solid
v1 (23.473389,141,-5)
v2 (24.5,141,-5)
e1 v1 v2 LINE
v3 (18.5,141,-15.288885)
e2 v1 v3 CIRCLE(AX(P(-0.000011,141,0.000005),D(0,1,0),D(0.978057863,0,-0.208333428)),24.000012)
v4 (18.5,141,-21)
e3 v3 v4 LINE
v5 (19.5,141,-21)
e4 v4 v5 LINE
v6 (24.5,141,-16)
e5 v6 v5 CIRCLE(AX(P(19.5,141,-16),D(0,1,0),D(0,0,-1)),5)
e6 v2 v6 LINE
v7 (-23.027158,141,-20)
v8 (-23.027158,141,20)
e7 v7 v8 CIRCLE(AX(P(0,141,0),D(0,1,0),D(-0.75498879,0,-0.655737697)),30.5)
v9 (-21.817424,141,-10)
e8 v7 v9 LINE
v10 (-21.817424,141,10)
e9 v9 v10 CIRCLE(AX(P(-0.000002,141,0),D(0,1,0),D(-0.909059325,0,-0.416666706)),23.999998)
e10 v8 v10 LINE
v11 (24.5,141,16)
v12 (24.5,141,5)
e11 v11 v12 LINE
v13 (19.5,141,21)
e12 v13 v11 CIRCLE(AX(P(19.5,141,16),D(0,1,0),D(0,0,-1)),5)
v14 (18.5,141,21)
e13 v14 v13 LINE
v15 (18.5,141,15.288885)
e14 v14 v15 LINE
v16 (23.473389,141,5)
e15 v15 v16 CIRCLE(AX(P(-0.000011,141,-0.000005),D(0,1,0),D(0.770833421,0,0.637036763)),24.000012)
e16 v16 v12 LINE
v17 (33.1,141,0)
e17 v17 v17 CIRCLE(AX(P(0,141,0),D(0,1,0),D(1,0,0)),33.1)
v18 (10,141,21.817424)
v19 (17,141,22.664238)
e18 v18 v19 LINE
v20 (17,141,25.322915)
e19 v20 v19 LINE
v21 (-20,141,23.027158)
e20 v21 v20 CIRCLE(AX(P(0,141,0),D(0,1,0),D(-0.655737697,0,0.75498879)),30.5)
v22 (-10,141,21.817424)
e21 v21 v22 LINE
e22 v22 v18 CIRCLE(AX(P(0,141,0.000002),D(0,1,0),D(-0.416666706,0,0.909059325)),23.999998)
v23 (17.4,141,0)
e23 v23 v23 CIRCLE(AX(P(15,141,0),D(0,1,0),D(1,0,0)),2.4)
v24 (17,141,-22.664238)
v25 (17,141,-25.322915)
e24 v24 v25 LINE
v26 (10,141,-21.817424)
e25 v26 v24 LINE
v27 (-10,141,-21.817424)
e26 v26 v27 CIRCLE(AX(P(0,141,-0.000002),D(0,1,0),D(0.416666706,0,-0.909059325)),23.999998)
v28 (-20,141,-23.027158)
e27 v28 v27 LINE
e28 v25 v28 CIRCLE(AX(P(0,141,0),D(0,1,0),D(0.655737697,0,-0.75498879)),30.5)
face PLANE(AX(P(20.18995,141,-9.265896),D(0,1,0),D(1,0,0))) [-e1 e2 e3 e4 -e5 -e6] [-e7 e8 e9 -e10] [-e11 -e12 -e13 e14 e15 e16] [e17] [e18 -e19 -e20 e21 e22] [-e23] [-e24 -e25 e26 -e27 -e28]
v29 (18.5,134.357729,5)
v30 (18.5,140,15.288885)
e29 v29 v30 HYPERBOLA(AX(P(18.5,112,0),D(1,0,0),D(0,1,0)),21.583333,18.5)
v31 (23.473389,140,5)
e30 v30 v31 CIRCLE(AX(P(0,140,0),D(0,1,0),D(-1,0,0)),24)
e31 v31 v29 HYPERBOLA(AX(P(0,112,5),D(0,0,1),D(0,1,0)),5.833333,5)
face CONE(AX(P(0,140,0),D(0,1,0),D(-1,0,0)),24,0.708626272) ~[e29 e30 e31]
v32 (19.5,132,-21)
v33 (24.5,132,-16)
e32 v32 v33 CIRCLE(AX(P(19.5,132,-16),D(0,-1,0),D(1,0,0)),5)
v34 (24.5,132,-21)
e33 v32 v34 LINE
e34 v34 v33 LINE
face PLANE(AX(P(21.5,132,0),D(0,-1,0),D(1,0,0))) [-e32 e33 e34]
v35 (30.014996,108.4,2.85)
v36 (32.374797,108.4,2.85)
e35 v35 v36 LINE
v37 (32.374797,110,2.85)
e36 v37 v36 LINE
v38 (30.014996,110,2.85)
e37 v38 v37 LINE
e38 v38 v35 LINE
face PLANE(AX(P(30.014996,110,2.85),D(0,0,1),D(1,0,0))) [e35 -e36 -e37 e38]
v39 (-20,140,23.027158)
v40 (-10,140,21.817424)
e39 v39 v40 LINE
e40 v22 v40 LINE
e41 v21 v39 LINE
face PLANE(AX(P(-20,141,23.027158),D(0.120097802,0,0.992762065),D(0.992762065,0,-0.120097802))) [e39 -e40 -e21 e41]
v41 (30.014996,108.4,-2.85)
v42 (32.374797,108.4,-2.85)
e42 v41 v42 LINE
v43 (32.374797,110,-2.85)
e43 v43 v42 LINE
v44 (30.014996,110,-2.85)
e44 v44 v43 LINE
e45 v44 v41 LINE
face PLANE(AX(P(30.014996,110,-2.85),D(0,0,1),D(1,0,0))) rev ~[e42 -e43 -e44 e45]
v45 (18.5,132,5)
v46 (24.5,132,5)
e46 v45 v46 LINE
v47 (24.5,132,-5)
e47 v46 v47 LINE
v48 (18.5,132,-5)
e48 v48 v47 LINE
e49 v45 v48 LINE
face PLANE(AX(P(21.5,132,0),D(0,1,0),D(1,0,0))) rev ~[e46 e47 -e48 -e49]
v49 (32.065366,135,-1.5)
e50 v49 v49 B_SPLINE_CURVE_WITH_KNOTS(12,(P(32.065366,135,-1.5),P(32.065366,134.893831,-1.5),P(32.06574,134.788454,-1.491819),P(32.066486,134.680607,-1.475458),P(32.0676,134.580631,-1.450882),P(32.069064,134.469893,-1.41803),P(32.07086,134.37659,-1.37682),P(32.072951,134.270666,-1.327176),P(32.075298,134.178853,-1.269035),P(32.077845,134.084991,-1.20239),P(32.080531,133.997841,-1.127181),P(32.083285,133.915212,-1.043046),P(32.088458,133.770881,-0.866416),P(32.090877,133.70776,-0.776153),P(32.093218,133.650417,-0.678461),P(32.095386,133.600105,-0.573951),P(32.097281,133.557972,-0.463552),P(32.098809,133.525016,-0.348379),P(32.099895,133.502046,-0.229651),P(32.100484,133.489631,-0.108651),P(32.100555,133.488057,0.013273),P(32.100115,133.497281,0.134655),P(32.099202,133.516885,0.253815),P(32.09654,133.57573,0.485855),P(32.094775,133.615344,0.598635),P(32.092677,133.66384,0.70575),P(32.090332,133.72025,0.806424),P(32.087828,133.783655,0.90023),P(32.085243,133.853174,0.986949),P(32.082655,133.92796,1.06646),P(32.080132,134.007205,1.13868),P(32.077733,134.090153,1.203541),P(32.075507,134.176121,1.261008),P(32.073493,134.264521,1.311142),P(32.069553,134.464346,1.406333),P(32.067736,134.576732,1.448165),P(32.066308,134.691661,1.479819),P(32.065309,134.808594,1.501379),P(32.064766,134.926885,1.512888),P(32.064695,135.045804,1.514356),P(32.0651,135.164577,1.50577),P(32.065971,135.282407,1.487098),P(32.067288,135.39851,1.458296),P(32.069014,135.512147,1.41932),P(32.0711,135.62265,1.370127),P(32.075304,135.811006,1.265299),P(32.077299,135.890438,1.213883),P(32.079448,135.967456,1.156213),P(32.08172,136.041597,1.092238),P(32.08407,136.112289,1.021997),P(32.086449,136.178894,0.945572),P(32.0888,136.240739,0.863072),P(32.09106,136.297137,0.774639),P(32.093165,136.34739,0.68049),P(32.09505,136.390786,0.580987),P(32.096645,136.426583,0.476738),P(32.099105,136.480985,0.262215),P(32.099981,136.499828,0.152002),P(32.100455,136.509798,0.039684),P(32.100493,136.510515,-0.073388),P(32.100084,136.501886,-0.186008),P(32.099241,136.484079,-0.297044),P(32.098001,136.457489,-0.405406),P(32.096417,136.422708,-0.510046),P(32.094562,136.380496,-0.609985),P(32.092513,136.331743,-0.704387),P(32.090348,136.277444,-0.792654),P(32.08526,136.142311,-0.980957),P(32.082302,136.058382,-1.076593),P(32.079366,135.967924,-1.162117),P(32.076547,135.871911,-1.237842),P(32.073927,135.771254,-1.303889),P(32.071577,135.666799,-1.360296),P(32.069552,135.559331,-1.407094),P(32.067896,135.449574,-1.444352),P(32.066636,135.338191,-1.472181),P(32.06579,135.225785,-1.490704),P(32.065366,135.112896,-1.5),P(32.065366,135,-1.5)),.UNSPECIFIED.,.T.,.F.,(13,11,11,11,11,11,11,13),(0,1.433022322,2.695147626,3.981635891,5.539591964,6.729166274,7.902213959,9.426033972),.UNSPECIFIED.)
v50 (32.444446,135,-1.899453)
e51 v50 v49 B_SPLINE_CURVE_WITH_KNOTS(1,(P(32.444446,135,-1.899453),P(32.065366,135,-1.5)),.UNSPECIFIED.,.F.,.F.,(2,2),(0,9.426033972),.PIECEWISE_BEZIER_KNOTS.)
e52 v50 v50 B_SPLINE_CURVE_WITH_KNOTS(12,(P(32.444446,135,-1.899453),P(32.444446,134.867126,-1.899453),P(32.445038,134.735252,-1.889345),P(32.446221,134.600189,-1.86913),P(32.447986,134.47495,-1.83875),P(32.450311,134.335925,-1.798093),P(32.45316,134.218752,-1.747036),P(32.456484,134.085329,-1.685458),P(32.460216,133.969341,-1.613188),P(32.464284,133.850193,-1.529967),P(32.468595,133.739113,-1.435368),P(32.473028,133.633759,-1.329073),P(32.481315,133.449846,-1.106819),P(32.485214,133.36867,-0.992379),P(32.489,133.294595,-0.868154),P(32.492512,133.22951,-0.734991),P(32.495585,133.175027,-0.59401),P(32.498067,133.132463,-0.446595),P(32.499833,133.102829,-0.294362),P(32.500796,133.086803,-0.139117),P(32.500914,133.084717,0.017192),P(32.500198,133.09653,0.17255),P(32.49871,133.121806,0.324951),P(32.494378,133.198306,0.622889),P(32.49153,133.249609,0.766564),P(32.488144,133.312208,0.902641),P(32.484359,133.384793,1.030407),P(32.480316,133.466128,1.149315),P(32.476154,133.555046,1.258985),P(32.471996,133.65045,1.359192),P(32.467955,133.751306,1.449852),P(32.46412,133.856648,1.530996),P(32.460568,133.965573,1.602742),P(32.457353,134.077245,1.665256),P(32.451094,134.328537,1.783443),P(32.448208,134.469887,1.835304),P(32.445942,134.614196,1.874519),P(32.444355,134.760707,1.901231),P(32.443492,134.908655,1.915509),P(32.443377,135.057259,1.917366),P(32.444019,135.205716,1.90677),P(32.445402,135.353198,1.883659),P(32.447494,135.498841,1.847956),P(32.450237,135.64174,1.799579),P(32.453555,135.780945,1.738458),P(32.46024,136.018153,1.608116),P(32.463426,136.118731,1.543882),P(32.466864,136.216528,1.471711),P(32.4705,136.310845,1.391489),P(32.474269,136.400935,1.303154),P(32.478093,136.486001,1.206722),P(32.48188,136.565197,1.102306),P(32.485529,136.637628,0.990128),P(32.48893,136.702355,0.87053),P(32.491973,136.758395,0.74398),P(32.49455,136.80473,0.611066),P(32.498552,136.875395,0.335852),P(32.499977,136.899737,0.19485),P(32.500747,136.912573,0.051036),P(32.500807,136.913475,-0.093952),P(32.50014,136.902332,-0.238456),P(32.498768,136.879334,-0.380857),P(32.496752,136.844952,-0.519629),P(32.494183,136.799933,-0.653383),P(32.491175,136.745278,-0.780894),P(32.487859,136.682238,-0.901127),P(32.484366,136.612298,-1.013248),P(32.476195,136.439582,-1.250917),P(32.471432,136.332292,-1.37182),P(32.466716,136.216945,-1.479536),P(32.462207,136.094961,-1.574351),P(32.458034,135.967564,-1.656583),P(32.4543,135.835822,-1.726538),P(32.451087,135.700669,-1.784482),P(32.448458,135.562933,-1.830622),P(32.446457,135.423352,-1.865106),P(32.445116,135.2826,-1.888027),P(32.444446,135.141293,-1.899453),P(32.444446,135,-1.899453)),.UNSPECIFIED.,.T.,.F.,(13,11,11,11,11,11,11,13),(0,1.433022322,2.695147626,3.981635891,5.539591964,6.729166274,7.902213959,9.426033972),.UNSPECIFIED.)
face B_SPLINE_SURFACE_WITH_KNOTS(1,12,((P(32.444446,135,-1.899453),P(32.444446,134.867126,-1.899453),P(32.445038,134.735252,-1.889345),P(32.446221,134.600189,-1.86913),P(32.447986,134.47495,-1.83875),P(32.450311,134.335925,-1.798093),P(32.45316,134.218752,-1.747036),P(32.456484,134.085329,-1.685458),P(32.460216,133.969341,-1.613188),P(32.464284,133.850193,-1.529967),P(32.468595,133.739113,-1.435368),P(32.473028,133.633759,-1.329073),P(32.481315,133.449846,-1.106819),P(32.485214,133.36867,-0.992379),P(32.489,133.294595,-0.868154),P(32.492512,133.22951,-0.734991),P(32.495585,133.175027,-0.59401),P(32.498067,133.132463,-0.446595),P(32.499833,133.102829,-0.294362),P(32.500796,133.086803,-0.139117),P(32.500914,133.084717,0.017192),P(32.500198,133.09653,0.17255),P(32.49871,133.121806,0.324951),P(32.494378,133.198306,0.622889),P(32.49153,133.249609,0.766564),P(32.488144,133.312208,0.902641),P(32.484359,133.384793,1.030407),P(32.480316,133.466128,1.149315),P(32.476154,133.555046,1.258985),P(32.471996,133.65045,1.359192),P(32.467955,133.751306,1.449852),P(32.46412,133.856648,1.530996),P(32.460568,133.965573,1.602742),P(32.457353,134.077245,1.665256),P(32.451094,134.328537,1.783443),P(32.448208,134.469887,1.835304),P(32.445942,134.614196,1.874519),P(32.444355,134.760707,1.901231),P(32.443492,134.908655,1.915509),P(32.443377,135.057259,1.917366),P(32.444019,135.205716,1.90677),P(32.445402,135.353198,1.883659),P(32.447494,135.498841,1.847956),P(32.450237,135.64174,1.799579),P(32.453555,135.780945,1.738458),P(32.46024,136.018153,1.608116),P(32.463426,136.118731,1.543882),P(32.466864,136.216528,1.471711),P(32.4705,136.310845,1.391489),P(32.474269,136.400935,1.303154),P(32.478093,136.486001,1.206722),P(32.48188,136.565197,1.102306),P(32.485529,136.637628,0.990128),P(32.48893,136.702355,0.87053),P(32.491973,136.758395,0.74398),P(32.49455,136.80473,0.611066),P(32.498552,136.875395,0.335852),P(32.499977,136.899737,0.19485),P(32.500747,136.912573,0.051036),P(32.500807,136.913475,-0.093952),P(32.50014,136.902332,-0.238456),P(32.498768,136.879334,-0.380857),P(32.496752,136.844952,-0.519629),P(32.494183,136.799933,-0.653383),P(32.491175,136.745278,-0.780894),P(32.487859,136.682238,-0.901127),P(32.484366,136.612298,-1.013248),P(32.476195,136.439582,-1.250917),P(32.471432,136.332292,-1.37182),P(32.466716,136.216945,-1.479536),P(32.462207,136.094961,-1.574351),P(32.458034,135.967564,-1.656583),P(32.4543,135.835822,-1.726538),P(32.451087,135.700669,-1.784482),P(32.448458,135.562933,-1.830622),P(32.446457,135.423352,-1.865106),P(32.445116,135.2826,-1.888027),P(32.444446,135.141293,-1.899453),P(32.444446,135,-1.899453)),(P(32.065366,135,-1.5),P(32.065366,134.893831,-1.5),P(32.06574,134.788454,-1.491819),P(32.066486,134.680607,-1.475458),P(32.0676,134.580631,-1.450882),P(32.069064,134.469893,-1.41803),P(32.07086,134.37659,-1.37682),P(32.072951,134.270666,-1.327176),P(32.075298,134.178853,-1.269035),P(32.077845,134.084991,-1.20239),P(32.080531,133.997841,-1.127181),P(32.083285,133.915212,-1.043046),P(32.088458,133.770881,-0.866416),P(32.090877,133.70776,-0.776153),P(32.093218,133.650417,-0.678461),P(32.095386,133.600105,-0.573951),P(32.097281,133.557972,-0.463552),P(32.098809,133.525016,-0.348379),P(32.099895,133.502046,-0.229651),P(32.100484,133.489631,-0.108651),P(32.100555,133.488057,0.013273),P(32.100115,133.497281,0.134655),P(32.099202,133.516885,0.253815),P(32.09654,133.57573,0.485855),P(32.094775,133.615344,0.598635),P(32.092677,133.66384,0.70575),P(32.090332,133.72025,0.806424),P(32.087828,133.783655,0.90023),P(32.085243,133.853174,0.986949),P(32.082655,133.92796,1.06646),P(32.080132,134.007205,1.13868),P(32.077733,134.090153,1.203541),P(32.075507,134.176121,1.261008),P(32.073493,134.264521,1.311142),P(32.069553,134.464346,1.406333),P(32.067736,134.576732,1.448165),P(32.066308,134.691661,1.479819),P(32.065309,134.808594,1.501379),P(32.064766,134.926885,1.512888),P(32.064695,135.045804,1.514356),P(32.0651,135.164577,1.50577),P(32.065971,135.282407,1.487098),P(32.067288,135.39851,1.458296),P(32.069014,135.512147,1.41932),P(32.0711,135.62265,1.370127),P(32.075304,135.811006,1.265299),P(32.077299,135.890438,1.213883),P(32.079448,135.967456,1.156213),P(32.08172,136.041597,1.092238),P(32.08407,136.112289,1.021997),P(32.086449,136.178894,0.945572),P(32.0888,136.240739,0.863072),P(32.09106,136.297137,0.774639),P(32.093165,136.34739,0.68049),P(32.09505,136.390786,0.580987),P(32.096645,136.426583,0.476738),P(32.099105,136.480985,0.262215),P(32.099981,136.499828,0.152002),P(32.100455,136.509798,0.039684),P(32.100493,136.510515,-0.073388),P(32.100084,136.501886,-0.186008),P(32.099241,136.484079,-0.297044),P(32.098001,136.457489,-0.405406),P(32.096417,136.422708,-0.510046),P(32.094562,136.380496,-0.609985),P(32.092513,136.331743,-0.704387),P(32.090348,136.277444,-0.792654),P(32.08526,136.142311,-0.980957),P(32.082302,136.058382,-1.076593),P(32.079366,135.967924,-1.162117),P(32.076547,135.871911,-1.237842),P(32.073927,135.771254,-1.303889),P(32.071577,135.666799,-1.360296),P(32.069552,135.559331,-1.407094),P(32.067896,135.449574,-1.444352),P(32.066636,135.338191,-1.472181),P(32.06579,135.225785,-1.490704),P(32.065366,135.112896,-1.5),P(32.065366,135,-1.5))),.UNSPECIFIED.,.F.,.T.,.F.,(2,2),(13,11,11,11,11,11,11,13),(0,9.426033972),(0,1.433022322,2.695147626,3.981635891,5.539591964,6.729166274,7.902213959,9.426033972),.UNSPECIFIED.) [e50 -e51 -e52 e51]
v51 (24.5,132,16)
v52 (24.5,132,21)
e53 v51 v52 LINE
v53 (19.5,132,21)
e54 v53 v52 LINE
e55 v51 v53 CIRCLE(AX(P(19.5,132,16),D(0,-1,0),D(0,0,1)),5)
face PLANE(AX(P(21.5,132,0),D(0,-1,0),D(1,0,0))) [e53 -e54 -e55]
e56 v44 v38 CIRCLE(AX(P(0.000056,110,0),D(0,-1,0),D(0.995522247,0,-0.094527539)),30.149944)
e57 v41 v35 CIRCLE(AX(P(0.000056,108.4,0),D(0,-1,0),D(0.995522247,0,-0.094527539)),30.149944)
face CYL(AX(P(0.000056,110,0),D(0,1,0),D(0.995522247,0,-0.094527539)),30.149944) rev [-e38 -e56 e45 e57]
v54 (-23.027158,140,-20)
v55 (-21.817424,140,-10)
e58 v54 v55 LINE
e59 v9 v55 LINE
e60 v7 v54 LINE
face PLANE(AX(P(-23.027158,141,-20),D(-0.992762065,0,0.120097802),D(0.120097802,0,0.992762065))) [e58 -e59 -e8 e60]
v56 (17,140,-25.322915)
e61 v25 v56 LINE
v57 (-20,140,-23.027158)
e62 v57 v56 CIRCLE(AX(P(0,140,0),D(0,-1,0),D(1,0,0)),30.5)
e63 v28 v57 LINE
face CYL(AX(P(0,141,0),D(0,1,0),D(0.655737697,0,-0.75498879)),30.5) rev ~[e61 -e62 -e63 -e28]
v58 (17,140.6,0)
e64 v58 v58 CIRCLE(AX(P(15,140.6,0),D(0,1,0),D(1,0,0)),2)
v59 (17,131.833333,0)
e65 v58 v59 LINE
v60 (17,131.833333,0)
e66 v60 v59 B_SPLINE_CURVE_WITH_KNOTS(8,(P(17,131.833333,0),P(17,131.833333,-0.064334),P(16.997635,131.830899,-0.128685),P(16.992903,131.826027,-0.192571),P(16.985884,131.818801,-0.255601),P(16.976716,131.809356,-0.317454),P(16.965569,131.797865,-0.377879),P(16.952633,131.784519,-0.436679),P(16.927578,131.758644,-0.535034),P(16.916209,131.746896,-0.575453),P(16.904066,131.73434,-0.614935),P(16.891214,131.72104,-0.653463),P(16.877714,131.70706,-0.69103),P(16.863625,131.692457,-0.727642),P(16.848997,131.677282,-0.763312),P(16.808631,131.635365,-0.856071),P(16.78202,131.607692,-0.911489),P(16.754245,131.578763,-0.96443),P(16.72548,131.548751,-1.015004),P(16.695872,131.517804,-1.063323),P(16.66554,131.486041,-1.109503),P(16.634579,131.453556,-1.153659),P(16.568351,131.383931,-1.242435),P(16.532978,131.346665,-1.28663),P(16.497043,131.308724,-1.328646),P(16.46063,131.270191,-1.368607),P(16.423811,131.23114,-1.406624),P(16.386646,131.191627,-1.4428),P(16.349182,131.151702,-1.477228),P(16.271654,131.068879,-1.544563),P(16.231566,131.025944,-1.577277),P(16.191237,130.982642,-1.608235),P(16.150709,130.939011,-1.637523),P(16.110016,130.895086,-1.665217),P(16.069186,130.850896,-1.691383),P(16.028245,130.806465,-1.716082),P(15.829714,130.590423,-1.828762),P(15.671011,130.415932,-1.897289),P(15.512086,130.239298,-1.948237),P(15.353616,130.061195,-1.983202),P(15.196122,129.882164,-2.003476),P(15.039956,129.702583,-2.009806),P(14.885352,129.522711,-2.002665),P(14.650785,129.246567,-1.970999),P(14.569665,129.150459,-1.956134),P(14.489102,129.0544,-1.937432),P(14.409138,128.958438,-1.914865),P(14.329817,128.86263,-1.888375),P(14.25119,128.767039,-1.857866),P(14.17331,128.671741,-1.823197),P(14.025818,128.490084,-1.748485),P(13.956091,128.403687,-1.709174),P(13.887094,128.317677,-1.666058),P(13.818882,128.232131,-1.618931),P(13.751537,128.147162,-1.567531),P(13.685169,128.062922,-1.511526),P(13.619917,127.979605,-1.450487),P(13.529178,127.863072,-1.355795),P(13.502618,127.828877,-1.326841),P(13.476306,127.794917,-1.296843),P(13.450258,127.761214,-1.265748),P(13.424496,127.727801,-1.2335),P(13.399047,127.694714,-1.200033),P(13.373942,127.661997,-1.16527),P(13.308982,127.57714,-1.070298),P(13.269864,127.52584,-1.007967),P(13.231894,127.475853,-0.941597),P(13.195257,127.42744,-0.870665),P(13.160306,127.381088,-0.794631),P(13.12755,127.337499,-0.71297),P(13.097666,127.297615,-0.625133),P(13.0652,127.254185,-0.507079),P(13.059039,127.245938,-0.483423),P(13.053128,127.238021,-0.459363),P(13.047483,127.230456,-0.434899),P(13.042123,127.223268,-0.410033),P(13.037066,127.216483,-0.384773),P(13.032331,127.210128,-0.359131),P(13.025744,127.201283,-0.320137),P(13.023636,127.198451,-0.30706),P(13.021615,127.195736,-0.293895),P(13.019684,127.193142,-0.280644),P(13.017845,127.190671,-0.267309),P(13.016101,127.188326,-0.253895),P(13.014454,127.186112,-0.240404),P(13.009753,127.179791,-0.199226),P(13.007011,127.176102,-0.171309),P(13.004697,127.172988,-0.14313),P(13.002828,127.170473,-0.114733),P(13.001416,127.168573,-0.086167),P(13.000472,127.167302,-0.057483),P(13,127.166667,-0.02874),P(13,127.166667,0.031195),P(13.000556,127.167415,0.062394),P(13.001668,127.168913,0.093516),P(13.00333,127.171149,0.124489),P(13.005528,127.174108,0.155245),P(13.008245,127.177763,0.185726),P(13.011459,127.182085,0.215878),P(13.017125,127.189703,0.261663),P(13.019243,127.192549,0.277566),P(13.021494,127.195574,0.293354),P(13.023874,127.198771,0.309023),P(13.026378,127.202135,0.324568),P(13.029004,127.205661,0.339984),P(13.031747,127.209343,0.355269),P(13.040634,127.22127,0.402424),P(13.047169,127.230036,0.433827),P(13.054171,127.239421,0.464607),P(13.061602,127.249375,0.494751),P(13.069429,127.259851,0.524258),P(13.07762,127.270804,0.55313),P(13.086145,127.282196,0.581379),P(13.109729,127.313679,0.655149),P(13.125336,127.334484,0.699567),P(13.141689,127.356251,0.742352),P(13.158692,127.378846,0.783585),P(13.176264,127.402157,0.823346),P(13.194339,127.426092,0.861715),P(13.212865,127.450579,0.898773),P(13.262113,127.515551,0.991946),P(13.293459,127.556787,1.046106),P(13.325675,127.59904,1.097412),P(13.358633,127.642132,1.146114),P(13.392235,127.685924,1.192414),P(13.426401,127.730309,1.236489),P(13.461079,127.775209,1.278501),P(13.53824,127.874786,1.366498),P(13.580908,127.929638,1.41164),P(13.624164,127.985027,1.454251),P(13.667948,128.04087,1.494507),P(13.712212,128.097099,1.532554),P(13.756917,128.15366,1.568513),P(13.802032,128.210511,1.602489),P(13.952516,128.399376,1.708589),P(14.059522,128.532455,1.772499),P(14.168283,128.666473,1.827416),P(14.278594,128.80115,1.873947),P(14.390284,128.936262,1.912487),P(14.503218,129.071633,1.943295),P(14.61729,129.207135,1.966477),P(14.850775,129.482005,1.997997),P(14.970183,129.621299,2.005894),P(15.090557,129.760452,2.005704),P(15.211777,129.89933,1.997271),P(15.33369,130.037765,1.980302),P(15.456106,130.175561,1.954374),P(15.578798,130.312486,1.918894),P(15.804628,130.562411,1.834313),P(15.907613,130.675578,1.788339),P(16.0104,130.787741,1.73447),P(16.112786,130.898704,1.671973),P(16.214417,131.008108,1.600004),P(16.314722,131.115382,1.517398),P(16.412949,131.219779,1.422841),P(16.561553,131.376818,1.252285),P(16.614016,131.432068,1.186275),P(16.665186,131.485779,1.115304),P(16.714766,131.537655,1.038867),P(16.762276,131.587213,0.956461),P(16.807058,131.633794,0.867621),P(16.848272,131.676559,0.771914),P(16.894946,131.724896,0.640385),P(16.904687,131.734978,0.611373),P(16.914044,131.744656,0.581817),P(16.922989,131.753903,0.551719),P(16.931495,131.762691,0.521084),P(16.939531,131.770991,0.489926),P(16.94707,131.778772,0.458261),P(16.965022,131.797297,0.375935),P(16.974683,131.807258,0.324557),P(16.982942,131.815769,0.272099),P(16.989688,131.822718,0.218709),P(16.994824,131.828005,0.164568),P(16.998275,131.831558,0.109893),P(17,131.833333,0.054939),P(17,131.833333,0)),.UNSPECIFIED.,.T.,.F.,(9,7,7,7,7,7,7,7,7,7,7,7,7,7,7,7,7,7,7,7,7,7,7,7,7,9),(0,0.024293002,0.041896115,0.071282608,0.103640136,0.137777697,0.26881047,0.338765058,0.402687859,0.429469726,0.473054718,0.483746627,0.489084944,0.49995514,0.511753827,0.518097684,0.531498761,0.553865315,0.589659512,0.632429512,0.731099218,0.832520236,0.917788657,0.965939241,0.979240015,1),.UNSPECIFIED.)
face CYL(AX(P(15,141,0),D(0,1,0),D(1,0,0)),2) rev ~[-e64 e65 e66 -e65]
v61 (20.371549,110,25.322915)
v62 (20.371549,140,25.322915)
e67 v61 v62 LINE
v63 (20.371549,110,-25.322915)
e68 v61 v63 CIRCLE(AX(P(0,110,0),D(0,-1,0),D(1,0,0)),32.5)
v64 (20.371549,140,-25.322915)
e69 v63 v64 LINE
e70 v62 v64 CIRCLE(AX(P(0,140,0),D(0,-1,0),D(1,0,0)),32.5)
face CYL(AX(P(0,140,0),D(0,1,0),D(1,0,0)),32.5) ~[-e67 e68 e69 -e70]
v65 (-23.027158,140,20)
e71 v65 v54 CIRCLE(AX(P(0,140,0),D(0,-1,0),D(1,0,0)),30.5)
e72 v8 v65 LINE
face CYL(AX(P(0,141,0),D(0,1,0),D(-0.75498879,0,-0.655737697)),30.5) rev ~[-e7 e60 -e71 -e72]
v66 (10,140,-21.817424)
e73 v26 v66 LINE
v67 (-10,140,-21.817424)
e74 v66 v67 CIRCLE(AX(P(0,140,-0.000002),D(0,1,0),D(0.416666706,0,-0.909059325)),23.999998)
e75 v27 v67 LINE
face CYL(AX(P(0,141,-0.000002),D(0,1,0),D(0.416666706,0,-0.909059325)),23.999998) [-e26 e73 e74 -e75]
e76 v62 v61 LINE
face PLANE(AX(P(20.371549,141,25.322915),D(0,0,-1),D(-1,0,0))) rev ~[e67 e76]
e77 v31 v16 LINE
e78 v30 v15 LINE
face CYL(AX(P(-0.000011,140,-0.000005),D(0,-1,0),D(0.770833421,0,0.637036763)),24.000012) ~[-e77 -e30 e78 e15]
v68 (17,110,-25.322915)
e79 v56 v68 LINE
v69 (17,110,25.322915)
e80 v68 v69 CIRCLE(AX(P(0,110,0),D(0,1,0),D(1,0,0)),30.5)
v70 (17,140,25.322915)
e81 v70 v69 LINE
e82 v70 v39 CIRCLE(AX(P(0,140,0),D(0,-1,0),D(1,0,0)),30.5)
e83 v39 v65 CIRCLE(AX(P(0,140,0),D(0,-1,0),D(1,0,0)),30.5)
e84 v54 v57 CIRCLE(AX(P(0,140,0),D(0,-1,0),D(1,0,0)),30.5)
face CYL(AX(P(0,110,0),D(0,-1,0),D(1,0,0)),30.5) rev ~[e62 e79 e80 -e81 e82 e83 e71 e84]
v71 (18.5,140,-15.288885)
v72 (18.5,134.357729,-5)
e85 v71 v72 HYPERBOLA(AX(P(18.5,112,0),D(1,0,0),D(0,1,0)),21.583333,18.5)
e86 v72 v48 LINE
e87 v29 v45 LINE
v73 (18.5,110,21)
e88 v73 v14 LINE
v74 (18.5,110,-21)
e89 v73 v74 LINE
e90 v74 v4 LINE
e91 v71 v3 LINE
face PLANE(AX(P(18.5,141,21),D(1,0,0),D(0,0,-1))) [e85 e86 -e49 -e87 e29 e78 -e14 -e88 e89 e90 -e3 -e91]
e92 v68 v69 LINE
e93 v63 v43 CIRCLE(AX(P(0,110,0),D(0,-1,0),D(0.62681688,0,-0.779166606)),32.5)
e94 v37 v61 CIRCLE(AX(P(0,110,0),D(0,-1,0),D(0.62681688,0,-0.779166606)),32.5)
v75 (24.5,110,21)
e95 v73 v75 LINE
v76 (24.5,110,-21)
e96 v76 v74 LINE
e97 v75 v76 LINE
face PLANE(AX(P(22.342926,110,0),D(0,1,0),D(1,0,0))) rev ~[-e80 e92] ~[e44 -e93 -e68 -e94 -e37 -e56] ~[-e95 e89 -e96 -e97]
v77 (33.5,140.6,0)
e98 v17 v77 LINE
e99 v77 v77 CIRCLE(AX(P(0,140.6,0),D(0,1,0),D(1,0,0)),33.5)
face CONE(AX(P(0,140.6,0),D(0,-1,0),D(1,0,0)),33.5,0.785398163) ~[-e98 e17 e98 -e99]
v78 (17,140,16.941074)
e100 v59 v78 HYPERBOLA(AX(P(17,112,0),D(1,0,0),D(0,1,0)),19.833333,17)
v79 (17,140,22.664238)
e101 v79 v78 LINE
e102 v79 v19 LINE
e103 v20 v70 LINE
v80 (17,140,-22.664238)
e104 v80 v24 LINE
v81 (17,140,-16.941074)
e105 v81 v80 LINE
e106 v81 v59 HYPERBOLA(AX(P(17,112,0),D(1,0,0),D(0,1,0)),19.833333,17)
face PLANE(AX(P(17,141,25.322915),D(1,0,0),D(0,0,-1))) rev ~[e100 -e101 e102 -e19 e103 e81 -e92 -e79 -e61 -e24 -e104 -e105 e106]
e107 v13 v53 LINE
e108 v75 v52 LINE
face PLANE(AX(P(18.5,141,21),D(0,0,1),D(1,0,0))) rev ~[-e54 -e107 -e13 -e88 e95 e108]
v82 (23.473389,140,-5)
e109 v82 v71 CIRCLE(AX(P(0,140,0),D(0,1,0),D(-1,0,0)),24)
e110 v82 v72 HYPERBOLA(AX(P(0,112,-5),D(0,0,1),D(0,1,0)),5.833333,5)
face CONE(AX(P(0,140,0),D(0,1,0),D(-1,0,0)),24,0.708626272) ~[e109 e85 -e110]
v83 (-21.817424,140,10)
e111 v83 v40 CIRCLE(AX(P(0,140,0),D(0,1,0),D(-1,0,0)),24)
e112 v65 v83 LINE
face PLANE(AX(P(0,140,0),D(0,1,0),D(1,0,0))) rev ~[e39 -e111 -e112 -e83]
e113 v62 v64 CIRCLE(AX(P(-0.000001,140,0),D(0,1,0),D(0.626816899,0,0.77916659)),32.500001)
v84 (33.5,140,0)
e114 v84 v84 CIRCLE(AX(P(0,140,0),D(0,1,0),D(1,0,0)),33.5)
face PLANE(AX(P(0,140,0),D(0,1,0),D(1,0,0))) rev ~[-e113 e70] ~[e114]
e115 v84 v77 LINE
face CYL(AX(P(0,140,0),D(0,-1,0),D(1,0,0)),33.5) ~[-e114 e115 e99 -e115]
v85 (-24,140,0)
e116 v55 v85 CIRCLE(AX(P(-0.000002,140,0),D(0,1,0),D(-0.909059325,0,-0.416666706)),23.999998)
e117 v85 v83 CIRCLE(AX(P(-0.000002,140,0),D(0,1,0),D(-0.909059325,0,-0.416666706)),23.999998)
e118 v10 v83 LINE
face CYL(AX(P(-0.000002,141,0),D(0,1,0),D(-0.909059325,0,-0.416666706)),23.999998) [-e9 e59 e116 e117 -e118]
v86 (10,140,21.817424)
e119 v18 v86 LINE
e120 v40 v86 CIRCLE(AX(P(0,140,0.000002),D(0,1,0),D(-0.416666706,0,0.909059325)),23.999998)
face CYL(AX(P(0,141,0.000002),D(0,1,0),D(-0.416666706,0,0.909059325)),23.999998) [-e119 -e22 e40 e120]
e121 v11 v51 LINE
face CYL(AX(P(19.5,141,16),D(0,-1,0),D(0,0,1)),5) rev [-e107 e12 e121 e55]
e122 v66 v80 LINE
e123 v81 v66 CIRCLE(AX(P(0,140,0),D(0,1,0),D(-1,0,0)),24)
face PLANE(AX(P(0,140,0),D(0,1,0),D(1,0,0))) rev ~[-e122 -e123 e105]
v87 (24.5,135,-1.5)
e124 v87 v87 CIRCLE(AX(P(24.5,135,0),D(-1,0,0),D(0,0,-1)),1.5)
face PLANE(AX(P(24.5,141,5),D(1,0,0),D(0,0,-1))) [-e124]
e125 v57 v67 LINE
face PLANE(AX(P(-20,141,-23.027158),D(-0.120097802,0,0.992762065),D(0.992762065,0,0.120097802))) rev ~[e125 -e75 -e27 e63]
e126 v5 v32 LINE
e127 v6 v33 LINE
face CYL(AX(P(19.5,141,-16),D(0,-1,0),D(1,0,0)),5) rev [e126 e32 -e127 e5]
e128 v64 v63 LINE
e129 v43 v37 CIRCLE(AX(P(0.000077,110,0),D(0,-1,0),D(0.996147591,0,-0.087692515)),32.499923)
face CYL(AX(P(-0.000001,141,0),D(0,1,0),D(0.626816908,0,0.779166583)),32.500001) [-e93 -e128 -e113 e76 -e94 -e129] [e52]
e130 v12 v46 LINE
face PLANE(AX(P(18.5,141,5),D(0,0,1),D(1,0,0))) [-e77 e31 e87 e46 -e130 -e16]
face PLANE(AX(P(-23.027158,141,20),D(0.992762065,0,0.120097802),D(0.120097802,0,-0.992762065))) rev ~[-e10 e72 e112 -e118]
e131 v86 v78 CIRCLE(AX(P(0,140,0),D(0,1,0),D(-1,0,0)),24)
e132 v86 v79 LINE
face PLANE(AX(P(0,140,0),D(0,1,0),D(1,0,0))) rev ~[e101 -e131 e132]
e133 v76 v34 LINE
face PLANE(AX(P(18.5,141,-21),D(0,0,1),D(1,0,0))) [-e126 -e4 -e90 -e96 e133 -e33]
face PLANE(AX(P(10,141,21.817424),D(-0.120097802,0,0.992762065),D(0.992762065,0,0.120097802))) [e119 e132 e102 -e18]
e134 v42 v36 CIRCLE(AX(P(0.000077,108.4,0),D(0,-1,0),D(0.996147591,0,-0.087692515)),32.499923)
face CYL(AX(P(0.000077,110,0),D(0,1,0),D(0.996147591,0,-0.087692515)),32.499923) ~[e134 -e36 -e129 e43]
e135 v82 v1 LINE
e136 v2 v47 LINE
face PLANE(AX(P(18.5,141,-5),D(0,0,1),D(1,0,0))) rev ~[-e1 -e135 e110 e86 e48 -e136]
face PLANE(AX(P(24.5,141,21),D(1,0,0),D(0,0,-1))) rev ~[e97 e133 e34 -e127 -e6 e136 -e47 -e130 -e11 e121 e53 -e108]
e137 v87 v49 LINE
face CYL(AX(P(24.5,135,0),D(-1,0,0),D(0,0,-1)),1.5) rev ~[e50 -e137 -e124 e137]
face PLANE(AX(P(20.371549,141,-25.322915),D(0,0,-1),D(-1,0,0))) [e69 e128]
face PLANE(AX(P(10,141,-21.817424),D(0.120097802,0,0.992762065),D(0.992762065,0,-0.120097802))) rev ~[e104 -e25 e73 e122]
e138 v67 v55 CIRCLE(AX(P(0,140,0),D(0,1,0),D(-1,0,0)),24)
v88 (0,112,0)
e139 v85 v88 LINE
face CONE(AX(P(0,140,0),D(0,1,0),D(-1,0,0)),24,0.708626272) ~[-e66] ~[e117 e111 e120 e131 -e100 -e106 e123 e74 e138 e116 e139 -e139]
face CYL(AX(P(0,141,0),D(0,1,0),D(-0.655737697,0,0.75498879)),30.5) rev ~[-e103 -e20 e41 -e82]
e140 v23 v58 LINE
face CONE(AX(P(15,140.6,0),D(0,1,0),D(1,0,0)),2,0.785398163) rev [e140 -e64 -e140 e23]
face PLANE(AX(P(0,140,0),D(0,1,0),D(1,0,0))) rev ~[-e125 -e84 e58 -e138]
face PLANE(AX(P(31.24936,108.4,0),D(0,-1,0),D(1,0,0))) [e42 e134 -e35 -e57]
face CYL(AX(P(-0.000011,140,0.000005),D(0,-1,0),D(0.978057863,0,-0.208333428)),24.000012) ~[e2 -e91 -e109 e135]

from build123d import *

# Parameters (mm, degrees)
SKETCH049_R     = 32.5
PAD011_DEPTH    = 30
SKETCH050_R     = 30.5
POCKET033_DEPTH = 30.001
SKETCH051_R     = 33.5
PAD012_DEPTH    = 1
POCKET034_DEPTH = 31.001
PAD013_DEPTH    = 31
SKETCH056_W     = 6
SKETCH056_H     = 42
POCKET035_DEPTH = 31.001
SKETCH057_R     = 1.5
POCKET036_DEPTH = 9.001
PAD014_DEPTH    = 1.6
FILLET005_R     = 5
SKETCH060_W     = 6
SKETCH060_H     = 10
PAD015_DEPTH    = 9
SKETCH062_W     = 6
SKETCH062_H     = 42
POCKET038_DEPTH = 22
CHAMFER007_SIZE = 0.4
SKETCH067_R     = 2
POCKET042_DEPTH = 32.601
CHAMFER011_SIZE = 0.4
PAD020_DEPTH    = 1
PAD021_DEPTH    = 1


with BuildPart() as part:
    # Sketch049 → Pad011 (new body)
    with BuildSketch(Plane.XZ):
        Circle(SKETCH049_R)
    extrude(amount=PAD011_DEPTH)

    # Sketch050 (on Face3 of Pad011) → Pocket033 (cut, through all)
    with BuildSketch(Plane.XZ.offset(30)):
        Circle(SKETCH050_R)
    extrude(amount=-POCKET033_DEPTH, mode=Mode.SUBTRACT)

    # Sketch051 (on Face2 of Pocket033) → Pad012 (join)
    with BuildSketch(Plane(origin=(0, 0, 0), x_dir=(1, 0, 0), z_dir=(0, 1, 0))):
        Circle(SKETCH051_R)
    extrude(amount=PAD012_DEPTH)

    # Sketch052 → Revolution (revolve)
    with BuildSketch(Plane.XY):
        Polygon((-20, 0), (0, -27.5), (0, 0), align=None)
    revolve(axis=Axis((0, 0, 0), (0, 1, 0)))

    # Sketch053 (on Face3 of Revolution) → Pocket034 (cut, through all)
    with BuildSketch(Plane(origin=(0, 1, 0), x_dir=(1, 0, 0), z_dir=(0, 1, 0))):
        with BuildLine():
            ThreePointArc((-23.027158, 20), (-30.5, 0), (-23.027158, -20))
            Line((-23.027158, -20), (-21.817424, -10))
            ThreePointArc((-21.817424, 10), (-24, 0), (-21.817424, -10))
            Line((-23.027158, 20), (-21.817424, 10))
        make_face()
        with BuildLine():
            ThreePointArc((-20, -23.027158), (0, -30.5), (20, -23.027158))
            Line((10, -21.817424), (20, -23.027158))
            ThreePointArc((-10, -21.817424), (0, -24), (10, -21.817424))
            Line((-20, -23.027158), (-10, -21.817424))
        make_face()
        with BuildLine():
            ThreePointArc((20, 23.027158), (0, 30.5), (-20, 23.027158))
            Line((-20, 23.027158), (-10, 21.817424))
            ThreePointArc((10, 21.817424), (0, 24), (-10, 21.817424))
            Line((10, 21.817424), (20, 23.027158))
        make_face()
    extrude(amount=-POCKET034_DEPTH, mode=Mode.SUBTRACT)

    # Sketch054 (on Face3 of Pocket034) → Pad013 (join)
    with BuildSketch(Plane(origin=(0, 1, 0), x_dir=(1, 0, 0), z_dir=(0, 1, 0))):
        with BuildLine():
            ThreePointArc((20.371549, -25.322915), (32.5, 0), (20.371549, 25.322915))
            Line((20.371549, 25.322915), (17, 25.322915))
            Line((17, -25.322915), (17, 25.322915))
            Line((20.371549, -25.322915), (17, -25.322915))
        make_face()
    extrude(amount=-PAD013_DEPTH)

    # Sketch056 (on Face3 of Pad013) → Pocket035 (cut, through all)
    with BuildSketch(Plane(origin=(0, 1, 0), x_dir=(1, 0, 0), z_dir=(0, 1, 0))):
        with Locations((21.5, 0)):
            Rectangle(SKETCH056_W, SKETCH056_H)
    extrude(amount=-POCKET035_DEPTH, mode=Mode.SUBTRACT)

    # Sketch057 (on Face18 of Pocket035) → Pocket036 (cut, through all)
    with BuildSketch(Plane(origin=(24.5, 0, 0), x_dir=(0, 0, -1), z_dir=(-1, 0, 0))):
        with Locations((0, 5)):
            Circle(SKETCH057_R)
    extrude(amount=-POCKET036_DEPTH, mode=Mode.SUBTRACT)

    # Sketch058 (on Face21 of Pocket036) → Pad014 (join)
    with BuildSketch(Plane.XZ.offset(30)):
        with BuildLine():
            ThreePointArc((32.374797, -2.85), (32.5, 0), (32.374797, 2.85))
            Line((30.014996, 2.85), (32.374797, 2.85))
            ThreePointArc((30.014996, -2.85), (30.15, 0), (30.014996, 2.85))
            Line((30.014996, -2.85), (32.374797, -2.85))
        make_face()
    extrude(amount=PAD014_DEPTH)

    # Fillet005
    fillet005_edges = [part.edges().sort_by_distance(p)[0] for p in [
        (24.5, -14.5, 21),
        (24.5, -14.5, -21),
    ]]
    fillet(fillet005_edges, radius=FILLET005_R)

    # Sketch060 (on Face1 of Fillet005) → Pad015 (join)
    with BuildSketch(Plane(origin=(0, 1, 0), x_dir=(1, 0, 0), z_dir=(0, 1, 0))):
        with Locations((21.5, 0)):
            Rectangle(SKETCH060_W, SKETCH060_H)
    extrude(amount=-PAD015_DEPTH)

    # Sketch061 → Revolution001 (revolve)
    with BuildSketch(Plane.XY):
        Polygon((-24, 0), (0, -28), (0, 0), align=None)
    revolve(axis=Axis((0, 0, 0), (0, 1, 0)))

    # Sketch062 (on Face21 of Revolution001) → Pocket038 (cut)
    with BuildSketch(Plane.XZ.offset(30)):
        with Locations((21.5, 0)):
            Rectangle(SKETCH062_W, SKETCH062_H)
    extrude(amount=-POCKET038_DEPTH, mode=Mode.SUBTRACT)

    # Chamfer007
    chamfer007_edges = [part.edges().sort_by_distance(p)[0] for p in [
        (-33.5, 1, 0),
        (32.482688, -6.06066, -1.06066),
    ]]
    chamfer(chamfer007_edges, length=CHAMFER007_SIZE)

    # Sketch067 (on Face1 of Chamfer007) → Pocket042 (cut, through all)
    with BuildSketch(Plane(origin=(0, 1, 0), x_dir=(1, 0, 0), z_dir=(0, 1, 0))):
        with Locations((15, 0)):
            Circle(SKETCH067_R)
    extrude(amount=-POCKET042_DEPTH, mode=Mode.SUBTRACT)

    # Chamfer011
    chamfer011_edges = [part.edges().sort_by_distance(p)[0] for p in [
        (13, 1, 0),
    ]]
    chamfer(chamfer011_edges, length=CHAMFER011_SIZE)

    # Chamfer011 Face35 → Pad020 (add)
    with BuildSketch(Plane(origin=(20.341956, 0, 8.743203), x_dir=(1, 0, 0), z_dir=(0, 1, 0))):
        with BuildLine():
            ThreePointArc((-1.841956, -6.545682), (1.266066, -1.701574), (3.131433, 3.743203))
            Line((3.131433, 3.743203), (-1.841956, 3.743203))
            Line((-1.841956, 3.743203), (-1.841956, -6.545682))
        make_face()
    extrude(amount=PAD020_DEPTH)

    # Pad020 Face42 → Pad021 (add)
    with BuildSketch(Plane(origin=(20.341956, 0, -8.743203), x_dir=(1, 0, 0), z_dir=(0, 1, 0))):
        with BuildLine():
            Line((-1.841956, 6.545682), (-1.841956, -3.743203))
            Line((-1.841956, -3.743203), (3.131433, -3.743203))
            ThreePointArc((3.131433, -3.743203), (1.266066, 1.701574), (-1.841956, 6.545682))
        make_face()
    extrude(amount=PAD021_DEPTH)


with BuildPart() as part_1:
    # Body006 placement: moved
    add(part.part.moved(Location((0, 140, 0))))


solid = part_1.part
